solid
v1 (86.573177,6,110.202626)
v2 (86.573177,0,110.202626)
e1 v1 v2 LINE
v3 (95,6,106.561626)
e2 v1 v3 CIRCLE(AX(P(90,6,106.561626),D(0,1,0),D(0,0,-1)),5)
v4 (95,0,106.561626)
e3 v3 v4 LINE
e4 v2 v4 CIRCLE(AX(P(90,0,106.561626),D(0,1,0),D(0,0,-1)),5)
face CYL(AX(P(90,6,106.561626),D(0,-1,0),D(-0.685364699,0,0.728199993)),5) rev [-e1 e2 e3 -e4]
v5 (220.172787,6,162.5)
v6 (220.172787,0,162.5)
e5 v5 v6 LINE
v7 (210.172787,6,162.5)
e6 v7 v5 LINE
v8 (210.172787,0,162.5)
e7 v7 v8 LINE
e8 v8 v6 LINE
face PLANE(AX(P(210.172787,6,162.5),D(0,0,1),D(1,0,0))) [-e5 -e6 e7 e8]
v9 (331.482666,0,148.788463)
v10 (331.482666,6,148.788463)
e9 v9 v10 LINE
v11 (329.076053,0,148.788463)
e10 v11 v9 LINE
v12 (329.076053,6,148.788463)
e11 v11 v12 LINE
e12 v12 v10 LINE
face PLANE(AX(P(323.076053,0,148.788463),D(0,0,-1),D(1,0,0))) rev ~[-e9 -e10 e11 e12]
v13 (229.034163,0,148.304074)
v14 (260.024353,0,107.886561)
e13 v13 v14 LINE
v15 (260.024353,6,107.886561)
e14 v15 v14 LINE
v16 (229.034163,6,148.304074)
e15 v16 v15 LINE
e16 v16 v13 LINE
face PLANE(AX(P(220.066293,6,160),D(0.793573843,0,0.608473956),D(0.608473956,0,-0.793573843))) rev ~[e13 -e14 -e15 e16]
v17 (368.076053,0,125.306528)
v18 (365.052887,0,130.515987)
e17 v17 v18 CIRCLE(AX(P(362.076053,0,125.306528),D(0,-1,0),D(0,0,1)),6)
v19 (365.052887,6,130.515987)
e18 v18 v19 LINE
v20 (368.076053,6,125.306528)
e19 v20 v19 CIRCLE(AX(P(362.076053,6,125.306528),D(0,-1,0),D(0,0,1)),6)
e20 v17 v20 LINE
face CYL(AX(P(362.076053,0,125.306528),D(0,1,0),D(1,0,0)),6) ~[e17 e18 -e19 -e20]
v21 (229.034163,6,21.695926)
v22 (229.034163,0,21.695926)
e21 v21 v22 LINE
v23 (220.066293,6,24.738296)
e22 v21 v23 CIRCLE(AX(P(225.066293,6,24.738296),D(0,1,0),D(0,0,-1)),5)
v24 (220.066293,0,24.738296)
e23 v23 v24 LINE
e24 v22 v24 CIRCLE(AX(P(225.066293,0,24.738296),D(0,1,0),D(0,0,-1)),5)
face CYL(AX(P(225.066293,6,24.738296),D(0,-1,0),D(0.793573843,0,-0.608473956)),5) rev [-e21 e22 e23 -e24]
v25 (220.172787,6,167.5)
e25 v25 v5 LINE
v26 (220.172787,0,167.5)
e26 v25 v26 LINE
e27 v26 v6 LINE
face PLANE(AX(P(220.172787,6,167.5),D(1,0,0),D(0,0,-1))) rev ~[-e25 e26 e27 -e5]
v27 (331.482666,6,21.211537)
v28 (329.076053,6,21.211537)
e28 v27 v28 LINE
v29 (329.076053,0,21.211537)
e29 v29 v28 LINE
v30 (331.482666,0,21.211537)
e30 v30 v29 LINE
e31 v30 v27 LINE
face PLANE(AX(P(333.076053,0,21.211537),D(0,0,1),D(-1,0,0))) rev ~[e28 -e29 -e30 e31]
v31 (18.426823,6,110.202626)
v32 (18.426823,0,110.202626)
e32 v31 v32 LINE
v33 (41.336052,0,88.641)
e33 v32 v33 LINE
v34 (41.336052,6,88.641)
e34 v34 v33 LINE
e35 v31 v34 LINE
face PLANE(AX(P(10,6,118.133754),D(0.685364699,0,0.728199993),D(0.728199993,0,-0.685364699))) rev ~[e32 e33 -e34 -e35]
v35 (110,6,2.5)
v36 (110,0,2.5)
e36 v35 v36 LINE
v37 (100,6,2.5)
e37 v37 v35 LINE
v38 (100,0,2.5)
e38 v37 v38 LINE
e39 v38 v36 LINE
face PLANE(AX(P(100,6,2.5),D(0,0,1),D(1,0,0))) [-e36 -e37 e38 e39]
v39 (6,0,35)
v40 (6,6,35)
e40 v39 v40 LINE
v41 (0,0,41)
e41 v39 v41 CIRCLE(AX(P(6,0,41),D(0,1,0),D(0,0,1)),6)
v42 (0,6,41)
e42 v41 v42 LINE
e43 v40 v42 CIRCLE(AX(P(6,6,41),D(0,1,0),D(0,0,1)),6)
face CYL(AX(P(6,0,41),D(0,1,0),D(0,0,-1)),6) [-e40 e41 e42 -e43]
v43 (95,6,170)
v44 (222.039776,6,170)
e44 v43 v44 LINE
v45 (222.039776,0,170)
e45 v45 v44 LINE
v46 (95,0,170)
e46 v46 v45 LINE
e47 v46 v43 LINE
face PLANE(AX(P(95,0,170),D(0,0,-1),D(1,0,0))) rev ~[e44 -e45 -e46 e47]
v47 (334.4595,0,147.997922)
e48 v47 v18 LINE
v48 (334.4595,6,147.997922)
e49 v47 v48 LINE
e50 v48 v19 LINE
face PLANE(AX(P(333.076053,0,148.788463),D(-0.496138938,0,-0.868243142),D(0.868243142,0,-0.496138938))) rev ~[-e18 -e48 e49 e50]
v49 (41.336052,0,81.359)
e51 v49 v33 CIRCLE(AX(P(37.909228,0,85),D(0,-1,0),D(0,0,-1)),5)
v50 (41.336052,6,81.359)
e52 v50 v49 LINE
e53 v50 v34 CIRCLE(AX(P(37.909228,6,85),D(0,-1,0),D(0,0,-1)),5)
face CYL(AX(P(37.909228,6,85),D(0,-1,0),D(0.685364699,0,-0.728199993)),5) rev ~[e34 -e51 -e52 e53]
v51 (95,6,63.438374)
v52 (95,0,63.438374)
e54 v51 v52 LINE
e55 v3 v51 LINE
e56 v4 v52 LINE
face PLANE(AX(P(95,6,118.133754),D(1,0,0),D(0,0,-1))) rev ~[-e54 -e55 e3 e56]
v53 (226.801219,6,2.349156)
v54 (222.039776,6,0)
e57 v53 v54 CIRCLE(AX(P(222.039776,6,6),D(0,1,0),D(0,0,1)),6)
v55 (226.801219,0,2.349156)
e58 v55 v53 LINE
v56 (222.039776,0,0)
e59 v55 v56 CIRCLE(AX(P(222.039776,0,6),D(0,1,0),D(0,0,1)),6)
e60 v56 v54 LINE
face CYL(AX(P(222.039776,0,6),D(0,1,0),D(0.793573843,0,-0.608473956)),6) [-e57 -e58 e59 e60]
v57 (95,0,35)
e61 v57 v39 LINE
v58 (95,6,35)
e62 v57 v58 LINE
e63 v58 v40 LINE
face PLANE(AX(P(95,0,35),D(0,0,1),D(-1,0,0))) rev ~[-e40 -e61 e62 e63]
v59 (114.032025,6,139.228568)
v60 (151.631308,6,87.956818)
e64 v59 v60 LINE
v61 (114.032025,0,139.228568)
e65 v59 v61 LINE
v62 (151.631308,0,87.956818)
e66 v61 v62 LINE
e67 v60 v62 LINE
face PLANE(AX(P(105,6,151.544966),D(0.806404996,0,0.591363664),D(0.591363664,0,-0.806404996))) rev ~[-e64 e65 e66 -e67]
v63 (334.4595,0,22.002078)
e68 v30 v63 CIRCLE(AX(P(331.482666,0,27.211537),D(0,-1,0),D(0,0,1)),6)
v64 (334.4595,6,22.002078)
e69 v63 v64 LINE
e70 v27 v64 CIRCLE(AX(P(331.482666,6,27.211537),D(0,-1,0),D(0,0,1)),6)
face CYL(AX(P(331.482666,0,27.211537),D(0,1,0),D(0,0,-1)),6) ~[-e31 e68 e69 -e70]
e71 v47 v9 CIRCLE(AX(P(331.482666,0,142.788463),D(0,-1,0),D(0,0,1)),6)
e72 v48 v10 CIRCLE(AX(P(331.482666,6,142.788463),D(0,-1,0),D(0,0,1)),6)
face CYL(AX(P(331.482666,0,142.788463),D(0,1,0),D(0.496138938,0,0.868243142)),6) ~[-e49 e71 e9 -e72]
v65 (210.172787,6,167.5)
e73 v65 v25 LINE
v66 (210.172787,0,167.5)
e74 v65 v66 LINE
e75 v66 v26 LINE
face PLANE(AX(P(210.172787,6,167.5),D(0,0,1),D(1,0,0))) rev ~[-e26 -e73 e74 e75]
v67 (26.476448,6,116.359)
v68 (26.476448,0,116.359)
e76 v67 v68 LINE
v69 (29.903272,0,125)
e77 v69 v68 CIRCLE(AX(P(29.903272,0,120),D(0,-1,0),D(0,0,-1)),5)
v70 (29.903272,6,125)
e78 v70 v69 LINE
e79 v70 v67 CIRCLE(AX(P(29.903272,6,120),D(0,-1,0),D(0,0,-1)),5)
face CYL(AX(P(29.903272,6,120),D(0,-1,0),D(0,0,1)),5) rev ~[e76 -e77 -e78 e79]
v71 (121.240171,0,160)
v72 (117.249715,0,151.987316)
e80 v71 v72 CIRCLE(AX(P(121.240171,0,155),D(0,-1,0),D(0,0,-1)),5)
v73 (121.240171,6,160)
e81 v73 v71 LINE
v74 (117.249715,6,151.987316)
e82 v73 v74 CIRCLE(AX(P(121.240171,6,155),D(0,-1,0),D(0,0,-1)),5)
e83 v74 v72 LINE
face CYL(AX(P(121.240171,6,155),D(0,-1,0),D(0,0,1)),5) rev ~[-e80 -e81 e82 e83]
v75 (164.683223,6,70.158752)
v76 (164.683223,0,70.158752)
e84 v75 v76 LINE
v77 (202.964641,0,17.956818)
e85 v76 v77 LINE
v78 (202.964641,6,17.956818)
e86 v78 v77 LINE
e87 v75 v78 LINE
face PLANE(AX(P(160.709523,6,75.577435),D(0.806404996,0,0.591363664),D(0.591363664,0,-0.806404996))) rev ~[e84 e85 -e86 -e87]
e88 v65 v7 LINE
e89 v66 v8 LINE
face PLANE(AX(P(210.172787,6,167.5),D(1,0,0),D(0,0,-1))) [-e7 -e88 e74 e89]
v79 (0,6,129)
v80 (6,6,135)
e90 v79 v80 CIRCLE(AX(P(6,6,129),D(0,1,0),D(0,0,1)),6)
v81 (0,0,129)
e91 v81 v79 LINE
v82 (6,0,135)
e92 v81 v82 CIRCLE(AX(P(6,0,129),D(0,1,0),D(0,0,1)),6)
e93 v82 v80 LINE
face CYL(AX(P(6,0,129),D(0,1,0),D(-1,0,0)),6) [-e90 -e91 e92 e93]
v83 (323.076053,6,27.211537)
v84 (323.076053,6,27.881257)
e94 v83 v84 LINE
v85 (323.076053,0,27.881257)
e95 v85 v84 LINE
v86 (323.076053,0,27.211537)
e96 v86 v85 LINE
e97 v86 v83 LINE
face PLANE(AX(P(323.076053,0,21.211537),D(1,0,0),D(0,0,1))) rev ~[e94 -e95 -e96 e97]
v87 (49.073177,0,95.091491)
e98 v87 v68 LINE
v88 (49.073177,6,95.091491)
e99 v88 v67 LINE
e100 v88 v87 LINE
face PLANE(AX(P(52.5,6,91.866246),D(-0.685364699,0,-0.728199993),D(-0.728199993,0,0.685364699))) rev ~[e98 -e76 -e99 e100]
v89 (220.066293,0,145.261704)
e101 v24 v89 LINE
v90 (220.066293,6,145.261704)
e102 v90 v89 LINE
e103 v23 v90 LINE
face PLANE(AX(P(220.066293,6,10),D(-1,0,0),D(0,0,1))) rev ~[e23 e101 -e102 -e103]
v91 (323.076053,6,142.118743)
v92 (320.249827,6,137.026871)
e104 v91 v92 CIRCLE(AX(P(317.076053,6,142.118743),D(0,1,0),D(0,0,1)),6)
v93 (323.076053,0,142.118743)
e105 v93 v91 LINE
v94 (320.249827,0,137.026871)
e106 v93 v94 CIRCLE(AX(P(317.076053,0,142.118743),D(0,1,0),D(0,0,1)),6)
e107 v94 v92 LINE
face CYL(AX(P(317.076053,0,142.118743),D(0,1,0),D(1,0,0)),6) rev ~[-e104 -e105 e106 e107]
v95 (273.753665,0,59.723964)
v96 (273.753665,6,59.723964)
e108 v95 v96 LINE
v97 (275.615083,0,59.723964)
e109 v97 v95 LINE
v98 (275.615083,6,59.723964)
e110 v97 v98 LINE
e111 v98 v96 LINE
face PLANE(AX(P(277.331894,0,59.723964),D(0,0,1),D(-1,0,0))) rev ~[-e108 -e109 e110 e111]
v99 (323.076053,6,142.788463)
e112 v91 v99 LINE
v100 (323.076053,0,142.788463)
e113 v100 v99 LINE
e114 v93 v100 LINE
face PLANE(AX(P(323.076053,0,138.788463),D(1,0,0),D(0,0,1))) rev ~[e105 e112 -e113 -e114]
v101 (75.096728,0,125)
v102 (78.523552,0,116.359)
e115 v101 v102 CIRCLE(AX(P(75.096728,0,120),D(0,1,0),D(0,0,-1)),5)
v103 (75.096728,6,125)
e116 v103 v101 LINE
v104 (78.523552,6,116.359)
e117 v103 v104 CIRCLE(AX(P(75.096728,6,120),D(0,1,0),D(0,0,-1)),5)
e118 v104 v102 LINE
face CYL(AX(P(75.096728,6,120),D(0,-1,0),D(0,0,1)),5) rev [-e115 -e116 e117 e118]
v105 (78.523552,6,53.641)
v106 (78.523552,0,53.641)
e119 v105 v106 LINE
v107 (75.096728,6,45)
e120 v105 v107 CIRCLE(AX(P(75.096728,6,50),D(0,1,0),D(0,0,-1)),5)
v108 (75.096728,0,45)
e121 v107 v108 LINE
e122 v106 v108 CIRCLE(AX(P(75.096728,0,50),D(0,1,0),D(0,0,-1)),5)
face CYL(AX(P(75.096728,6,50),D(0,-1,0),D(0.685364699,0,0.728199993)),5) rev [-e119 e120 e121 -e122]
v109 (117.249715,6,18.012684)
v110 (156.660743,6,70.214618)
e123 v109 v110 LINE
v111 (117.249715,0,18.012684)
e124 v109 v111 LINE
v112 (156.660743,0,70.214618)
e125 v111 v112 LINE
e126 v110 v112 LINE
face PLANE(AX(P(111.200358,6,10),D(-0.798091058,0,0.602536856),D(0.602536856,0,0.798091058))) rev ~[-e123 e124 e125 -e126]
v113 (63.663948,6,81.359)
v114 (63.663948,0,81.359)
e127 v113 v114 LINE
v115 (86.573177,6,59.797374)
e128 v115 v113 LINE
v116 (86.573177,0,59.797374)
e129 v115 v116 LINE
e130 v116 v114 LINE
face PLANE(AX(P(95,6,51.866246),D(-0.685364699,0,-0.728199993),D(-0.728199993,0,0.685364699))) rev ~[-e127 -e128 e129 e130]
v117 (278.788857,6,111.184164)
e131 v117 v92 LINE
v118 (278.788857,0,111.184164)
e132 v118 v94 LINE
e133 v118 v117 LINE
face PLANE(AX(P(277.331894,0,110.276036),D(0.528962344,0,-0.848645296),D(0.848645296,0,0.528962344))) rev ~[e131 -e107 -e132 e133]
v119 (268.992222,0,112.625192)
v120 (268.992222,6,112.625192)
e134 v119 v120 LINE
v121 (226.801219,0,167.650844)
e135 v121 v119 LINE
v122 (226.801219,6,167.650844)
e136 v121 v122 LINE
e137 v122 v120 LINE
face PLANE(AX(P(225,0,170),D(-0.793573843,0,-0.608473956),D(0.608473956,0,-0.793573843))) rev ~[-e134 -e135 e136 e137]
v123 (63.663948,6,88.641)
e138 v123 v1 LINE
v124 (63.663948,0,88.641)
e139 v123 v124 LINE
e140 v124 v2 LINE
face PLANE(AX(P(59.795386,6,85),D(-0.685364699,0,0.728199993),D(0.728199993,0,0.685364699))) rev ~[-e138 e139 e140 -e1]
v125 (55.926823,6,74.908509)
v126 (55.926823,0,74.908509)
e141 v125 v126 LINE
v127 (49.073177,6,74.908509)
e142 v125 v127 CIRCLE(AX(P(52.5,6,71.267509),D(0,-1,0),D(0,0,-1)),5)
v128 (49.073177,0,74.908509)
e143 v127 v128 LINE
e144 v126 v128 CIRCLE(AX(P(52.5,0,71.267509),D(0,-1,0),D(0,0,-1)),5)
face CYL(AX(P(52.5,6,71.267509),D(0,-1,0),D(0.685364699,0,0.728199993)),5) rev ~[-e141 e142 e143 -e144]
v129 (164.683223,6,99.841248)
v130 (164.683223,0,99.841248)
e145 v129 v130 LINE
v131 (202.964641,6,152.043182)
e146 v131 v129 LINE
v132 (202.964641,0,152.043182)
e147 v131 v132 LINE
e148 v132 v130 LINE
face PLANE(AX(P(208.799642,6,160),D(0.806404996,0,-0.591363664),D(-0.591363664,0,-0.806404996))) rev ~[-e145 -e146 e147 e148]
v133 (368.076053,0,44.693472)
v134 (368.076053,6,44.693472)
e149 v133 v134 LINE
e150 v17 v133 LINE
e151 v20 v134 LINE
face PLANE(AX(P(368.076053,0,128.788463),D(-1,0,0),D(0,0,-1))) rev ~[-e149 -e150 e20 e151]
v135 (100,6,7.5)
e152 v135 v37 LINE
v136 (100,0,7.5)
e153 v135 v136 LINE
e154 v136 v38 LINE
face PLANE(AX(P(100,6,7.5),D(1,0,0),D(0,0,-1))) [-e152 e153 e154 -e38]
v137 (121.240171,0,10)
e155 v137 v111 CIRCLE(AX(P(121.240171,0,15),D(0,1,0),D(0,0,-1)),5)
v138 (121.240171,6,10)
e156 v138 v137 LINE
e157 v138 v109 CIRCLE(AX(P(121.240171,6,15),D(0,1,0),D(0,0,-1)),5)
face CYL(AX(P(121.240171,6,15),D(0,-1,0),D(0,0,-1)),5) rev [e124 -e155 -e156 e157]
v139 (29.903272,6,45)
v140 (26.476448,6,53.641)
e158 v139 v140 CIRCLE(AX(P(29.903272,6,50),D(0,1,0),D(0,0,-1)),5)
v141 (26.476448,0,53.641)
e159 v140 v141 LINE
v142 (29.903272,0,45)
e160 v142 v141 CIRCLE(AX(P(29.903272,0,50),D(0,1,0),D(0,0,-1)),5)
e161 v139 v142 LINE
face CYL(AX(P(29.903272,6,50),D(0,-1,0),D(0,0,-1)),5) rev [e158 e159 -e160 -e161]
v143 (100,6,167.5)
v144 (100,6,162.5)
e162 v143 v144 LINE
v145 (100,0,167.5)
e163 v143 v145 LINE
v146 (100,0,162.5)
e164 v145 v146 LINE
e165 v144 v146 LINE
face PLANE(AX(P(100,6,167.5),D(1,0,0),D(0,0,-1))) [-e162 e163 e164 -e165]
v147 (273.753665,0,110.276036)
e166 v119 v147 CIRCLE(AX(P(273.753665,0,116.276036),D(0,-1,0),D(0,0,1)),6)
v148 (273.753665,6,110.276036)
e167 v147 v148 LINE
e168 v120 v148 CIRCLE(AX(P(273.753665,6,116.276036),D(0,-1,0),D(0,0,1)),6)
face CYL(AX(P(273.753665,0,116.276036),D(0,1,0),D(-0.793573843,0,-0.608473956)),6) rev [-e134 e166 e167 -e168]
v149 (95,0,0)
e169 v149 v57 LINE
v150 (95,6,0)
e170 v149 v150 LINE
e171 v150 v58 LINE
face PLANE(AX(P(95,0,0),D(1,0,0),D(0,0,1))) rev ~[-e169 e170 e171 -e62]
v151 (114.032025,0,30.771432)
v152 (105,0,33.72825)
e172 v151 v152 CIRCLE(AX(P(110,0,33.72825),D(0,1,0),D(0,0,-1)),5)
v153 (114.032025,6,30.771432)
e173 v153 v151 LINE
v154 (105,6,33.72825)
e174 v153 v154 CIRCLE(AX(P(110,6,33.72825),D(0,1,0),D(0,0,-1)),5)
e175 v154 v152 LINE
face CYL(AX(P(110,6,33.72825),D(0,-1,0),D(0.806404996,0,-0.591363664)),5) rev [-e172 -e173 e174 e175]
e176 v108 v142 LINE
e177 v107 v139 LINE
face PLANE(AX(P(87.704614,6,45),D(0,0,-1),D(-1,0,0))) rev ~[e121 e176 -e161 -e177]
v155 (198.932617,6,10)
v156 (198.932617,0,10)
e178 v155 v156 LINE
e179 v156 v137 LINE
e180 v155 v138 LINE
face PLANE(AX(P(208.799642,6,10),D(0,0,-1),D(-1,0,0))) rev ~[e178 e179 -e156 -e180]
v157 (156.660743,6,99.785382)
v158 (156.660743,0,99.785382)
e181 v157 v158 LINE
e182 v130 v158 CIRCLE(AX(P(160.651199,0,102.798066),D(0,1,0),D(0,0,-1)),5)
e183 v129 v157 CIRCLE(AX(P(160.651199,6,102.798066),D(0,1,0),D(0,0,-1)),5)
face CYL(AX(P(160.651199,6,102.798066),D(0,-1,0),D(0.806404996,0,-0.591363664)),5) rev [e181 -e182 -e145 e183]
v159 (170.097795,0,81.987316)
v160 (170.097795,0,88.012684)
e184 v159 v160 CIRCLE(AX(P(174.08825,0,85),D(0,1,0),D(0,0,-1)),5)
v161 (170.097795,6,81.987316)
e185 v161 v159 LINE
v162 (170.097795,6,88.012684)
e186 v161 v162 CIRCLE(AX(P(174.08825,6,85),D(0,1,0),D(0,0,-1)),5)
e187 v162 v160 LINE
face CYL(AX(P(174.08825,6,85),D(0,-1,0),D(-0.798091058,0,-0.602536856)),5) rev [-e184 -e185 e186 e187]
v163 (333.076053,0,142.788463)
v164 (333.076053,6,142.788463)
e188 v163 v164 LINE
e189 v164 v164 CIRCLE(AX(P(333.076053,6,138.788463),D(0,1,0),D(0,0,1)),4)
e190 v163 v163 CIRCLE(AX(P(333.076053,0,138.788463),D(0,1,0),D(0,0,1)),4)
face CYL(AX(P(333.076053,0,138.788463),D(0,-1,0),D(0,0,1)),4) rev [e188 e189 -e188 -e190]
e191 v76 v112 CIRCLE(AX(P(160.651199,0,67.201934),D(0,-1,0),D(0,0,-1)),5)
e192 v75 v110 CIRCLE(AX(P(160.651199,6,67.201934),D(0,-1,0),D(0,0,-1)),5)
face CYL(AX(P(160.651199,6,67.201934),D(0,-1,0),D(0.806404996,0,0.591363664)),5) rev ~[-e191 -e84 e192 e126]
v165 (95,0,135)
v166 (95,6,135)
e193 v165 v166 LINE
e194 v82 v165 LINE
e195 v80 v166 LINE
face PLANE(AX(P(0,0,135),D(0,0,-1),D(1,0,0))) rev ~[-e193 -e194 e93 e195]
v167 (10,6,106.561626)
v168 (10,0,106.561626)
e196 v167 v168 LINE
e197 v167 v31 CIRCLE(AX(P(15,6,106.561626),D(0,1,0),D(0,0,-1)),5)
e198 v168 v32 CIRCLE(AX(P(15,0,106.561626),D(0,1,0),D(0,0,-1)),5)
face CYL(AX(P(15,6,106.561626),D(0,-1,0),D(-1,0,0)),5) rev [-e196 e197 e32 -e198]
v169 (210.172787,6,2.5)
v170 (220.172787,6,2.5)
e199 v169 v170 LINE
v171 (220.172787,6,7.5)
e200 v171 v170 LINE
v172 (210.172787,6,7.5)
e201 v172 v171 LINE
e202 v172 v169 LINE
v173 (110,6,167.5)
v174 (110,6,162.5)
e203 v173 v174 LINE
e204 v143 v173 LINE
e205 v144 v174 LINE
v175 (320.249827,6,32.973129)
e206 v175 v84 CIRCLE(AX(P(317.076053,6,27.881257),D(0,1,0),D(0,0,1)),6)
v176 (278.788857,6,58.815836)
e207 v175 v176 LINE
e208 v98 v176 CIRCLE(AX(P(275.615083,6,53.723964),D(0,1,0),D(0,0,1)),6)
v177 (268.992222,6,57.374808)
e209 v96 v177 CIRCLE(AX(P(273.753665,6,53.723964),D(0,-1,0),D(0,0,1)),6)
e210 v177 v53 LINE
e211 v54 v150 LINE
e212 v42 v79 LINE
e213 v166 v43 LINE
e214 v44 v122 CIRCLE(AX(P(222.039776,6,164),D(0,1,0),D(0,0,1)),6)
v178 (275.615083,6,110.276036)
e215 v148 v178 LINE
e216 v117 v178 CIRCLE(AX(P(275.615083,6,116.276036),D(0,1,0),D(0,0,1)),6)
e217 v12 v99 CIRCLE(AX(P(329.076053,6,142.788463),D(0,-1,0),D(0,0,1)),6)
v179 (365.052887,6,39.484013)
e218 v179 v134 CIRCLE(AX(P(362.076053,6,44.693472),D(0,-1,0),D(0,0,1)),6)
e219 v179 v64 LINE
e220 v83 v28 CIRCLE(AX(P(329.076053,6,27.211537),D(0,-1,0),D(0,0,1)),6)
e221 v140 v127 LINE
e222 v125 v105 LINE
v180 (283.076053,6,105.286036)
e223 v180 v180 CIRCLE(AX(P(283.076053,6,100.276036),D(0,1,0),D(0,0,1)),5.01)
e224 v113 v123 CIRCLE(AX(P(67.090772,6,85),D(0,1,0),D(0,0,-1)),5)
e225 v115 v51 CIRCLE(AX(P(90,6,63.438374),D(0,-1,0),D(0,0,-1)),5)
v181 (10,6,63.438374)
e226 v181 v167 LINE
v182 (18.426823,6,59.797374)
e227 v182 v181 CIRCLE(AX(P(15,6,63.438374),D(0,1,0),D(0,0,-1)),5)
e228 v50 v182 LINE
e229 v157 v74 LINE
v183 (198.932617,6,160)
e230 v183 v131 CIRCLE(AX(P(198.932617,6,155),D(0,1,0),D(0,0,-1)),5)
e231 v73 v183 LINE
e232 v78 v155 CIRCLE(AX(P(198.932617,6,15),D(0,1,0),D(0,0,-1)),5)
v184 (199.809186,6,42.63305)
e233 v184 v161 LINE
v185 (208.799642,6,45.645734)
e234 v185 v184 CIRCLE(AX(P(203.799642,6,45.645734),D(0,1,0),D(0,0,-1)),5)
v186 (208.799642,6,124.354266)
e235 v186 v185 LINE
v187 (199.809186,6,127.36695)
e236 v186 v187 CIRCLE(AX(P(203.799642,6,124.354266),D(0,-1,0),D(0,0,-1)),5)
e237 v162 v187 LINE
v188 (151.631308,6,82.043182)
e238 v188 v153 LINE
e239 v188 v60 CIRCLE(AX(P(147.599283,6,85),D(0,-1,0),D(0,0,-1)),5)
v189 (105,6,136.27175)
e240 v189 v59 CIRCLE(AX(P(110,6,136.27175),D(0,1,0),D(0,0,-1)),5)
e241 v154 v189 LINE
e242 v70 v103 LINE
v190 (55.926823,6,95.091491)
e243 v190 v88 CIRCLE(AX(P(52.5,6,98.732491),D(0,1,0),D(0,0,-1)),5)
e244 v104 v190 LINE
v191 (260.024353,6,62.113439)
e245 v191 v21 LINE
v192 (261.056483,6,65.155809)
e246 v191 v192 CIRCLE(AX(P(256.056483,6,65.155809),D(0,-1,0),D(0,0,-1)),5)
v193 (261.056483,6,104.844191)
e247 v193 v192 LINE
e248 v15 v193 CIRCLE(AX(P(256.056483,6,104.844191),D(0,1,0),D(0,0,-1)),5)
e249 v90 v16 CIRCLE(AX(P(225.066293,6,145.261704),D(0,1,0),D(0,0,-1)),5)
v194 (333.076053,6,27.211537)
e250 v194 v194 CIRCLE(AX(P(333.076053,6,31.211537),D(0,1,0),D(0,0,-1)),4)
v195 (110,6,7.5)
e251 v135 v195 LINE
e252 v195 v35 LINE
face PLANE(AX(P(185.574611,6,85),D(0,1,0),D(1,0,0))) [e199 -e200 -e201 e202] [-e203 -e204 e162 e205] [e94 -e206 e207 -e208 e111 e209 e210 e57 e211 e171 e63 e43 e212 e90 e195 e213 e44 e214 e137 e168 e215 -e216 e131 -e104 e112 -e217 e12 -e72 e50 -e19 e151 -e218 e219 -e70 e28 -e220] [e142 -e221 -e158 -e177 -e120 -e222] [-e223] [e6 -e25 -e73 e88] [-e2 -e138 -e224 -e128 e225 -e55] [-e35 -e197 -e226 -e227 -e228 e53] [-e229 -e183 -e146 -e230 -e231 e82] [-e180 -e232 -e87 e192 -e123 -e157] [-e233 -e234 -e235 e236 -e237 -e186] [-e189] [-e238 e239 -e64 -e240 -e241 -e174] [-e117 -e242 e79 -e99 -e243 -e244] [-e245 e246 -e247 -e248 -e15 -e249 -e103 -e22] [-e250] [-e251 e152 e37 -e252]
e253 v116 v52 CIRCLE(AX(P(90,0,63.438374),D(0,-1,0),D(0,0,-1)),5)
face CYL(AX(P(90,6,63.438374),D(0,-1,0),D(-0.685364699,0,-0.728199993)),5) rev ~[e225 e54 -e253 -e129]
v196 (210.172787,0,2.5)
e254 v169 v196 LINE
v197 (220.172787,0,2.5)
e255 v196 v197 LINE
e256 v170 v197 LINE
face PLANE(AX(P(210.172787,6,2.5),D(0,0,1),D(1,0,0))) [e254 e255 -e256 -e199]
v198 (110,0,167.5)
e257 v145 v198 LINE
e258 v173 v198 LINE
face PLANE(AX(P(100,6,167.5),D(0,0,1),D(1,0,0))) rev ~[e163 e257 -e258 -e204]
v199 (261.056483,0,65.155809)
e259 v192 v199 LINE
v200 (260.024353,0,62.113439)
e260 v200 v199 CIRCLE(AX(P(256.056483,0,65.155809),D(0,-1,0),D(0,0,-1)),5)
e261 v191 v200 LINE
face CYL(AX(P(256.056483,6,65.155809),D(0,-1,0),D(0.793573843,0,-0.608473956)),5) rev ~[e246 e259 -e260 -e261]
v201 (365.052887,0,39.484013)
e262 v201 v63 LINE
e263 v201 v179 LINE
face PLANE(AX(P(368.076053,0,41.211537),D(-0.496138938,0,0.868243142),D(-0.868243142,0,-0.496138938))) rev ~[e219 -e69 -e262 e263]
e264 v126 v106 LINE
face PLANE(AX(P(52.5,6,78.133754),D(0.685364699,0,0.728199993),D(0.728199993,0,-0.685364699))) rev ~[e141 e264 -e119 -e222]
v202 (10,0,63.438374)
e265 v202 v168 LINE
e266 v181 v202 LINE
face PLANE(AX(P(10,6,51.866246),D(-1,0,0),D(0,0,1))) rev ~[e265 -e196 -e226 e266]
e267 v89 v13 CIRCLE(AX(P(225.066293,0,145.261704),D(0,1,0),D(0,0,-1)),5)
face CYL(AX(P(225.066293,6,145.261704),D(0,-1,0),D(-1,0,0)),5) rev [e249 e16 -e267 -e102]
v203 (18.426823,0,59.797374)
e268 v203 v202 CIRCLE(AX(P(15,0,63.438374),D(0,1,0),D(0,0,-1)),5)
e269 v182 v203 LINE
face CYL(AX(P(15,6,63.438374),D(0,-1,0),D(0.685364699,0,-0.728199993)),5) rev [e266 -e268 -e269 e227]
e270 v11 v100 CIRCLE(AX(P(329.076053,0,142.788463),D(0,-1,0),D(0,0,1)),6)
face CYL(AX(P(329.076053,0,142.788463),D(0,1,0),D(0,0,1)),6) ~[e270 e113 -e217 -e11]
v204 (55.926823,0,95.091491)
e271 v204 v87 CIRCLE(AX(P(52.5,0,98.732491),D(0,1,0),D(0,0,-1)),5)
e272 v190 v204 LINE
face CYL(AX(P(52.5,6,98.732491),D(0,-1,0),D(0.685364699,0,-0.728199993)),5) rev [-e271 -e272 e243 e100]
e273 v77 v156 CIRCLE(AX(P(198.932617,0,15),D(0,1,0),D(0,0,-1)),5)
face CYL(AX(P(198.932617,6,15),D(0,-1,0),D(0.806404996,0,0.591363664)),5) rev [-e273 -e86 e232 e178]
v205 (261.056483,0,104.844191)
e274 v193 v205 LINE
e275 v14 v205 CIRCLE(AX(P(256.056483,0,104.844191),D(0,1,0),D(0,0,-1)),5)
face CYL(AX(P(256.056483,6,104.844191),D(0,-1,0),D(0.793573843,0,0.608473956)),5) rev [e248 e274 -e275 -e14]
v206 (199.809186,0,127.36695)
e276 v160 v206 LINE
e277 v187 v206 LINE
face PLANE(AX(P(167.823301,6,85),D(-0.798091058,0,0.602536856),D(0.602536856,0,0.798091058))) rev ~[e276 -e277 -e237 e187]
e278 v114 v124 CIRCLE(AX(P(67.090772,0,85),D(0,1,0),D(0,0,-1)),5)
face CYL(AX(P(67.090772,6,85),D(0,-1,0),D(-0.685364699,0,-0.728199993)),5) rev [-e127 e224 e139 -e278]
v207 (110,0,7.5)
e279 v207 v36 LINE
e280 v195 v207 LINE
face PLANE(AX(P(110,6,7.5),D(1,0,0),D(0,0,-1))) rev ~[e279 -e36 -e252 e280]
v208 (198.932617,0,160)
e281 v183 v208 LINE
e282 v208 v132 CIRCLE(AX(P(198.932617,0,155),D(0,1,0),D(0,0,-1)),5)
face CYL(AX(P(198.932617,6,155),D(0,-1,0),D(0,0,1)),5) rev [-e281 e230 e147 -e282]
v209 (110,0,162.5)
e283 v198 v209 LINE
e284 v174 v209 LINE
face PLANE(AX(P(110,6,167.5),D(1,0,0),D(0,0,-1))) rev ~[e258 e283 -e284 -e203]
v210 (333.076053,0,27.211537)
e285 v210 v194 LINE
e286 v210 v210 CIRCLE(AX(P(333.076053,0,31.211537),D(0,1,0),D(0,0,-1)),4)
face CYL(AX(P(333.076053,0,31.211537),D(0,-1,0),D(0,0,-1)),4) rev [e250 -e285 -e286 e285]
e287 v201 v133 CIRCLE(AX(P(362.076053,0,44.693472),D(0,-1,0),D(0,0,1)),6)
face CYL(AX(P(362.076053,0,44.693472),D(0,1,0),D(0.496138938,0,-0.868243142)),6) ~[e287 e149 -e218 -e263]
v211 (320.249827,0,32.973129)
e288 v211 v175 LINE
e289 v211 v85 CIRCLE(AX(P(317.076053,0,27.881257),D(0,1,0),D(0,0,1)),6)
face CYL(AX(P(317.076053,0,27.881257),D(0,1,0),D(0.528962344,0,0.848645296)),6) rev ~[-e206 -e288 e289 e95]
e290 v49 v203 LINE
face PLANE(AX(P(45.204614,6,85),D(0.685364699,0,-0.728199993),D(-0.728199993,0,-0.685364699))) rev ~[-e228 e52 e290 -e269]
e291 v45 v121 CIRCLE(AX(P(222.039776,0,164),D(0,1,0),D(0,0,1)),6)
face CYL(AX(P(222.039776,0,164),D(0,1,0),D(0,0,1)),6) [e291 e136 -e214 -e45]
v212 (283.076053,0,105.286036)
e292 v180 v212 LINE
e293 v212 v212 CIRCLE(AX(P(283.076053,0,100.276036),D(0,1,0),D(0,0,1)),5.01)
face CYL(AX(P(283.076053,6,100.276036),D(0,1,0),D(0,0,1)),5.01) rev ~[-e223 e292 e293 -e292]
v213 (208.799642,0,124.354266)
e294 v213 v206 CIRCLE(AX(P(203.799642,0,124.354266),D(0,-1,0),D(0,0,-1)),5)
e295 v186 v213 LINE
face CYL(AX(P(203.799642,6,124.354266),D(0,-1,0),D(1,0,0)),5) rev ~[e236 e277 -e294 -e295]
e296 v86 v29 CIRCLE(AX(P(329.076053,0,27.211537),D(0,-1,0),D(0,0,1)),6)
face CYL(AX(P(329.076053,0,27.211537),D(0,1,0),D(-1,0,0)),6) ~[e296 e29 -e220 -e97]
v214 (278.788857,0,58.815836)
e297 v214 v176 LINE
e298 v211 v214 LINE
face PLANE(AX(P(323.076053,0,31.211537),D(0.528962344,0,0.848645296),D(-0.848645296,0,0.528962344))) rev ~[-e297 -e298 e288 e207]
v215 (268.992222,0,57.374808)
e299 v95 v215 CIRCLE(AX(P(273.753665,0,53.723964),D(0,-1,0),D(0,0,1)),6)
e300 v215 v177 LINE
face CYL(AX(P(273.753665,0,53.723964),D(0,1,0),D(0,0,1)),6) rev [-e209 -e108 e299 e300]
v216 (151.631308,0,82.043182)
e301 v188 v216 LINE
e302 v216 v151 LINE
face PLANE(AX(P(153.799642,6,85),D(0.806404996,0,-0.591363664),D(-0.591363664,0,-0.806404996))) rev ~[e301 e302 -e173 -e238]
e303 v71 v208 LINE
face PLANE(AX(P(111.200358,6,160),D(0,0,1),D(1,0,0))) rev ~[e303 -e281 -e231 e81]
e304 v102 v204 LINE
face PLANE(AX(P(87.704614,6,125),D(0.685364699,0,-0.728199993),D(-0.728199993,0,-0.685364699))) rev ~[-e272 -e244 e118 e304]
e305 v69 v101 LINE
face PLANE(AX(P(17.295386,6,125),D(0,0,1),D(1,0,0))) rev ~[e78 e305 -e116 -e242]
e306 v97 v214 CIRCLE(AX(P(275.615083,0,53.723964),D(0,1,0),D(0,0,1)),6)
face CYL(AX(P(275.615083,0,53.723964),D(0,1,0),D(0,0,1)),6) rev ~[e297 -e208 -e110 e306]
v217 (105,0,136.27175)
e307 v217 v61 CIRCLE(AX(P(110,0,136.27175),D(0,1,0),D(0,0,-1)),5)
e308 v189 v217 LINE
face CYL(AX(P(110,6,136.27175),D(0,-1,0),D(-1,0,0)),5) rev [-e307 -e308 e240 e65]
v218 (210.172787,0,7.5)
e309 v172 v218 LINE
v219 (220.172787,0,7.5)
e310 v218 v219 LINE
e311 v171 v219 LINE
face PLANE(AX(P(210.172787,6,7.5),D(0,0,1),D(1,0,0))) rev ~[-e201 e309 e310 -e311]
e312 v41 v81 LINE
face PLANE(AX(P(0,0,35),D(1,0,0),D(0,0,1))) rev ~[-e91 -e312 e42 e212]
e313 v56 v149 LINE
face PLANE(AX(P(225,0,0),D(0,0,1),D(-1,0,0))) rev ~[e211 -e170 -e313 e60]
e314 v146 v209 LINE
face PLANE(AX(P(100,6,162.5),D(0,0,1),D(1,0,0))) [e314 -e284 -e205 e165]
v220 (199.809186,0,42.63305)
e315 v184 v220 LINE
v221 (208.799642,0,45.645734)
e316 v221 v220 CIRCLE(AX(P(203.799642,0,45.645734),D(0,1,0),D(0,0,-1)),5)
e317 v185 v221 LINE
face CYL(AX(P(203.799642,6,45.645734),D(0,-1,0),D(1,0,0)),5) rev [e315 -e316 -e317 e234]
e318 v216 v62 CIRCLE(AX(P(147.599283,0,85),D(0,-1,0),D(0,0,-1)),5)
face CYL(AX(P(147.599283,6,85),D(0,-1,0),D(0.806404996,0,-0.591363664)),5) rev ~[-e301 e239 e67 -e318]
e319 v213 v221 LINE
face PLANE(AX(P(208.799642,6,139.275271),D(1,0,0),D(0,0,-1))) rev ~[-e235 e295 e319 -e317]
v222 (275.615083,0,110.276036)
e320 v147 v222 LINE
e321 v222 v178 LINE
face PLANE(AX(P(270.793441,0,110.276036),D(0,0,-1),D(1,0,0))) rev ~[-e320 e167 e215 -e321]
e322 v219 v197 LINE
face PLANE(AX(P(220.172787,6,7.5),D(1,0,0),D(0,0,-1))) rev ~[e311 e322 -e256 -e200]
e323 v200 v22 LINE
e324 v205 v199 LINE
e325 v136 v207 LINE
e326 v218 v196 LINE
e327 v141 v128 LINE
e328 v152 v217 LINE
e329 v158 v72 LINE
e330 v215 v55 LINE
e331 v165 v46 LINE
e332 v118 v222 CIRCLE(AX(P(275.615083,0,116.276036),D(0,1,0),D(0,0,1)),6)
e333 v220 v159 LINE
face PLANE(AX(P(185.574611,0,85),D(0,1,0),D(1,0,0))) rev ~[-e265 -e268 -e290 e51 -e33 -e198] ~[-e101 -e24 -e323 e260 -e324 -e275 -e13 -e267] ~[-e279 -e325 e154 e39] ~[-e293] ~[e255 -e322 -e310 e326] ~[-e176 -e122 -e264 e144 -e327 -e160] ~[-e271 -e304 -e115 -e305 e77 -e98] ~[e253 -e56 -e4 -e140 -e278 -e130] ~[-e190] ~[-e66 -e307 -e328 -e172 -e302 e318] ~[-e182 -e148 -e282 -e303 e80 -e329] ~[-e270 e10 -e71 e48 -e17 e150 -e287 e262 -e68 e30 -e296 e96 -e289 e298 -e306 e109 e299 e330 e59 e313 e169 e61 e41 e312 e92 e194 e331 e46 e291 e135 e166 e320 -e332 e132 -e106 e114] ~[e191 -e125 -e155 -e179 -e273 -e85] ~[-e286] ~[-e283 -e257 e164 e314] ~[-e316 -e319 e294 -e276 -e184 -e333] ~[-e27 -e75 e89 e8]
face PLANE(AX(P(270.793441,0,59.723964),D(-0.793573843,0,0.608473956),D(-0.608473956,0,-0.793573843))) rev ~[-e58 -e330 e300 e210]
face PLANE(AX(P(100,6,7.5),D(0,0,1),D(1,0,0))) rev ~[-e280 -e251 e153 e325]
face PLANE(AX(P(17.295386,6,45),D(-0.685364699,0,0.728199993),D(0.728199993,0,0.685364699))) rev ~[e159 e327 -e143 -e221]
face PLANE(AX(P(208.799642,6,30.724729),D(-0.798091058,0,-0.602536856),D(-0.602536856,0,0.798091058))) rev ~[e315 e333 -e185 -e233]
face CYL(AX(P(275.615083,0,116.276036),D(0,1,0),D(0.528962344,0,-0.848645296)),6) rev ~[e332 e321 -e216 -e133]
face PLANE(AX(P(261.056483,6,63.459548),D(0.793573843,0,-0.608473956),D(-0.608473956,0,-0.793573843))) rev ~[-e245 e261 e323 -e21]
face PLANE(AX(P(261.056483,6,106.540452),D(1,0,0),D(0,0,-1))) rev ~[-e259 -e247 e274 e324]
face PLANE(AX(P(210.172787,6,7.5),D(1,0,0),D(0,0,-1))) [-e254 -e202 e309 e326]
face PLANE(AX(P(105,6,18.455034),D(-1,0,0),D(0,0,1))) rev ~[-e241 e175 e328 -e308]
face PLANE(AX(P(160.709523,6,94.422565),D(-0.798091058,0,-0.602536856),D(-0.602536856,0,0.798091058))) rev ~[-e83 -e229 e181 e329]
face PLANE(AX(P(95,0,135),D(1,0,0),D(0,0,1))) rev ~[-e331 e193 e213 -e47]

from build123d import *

# Parameters (mm, degrees)
SKETCH1_R           = 4
BOSS_EXTRUDE1_DEPTH = 6
FILLET1_R           = 6
CUT_EXTRUDE1_DEPTH  = 6
FILLET3_R           = 5
SKETCH3_R           = 5.01
CUT_EXTRUDE2_DEPTH  = 10
SKETCH4_W           = 10
SKETCH4_H           = 5
CUT_EXTRUDE3_DEPTH  = 10


with BuildPart() as part:
    # Sketch1 → Boss-Extrude1 (new body)
    with BuildSketch(Plane(origin=(0, 0, 0), x_dir=(1, 0, 0), z_dir=(0, 1, 0))):
        Polygon((277.331893801, -59.723964411), (274.249458289, -59.723964411), (270.793440906, -59.723964411), (225, 0), (95, 0), (95, -35), (0, -35), (0, -135), (95, -135), (95, -170), (225, -170), (270.793440906, -110.276035589), (274.249458289, -110.276035589), (277.331893801, -110.276035589), (323.076052888, -138.788463278), (323.076052888, -148.788463278), (333.076052888, -148.788463278), (368.076052888, -128.788463278), (368.076052888, -41.211536722), (333.076052888, -21.211536722), (323.076052888, -21.211536722), (323.076052888, -31.211536722), align=None)
        with Locations(Location((333.076052888, -138.788463278, 0), (0, 0, 270))):
            Circle(SKETCH1_R, mode=Mode.SUBTRACT)
        with Locations(Location((333.076052888, -31.211536722, 0), (0, 0, 90))):
            Circle(SKETCH1_R, mode=Mode.SUBTRACT)
    extrude(amount=BOSS_EXTRUDE1_DEPTH)

    # Fillet1
    fillet1_edges = [part.edges().sort_by_distance(p)[0] for p in [
        (323.076052888, 3, 31.211536722),
        (323.076052888, 3, 21.211536722),
        (333.076052888, 3, 21.211536722),
        (368.076052888, 3, 41.211536722),
        (368.076052888, 3, 128.788463278),
        (333.076052888, 3, 148.788463278),
        (323.076052888, 3, 148.788463278),
        (323.076052888, 3, 138.788463278),
        (277.331893801, 3, 110.276035589),
        (270.793440906, 3, 110.276035589),
        (225, 3, 170),
        (0, 3, 135),
        (0, 3, 35),
        (225, 3, 0),
        (270.793440906, 3, 59.723964411),
        (277.331893801, 3, 59.723964411),
    ]]
    fillet(fillet1_edges, radius=FILLET1_R)

    # Sketch2 → Cut-Extrude1 (cut)
    with BuildSketch(Plane(origin=(0, 6, 0), x_dir=(1, 0, 0), z_dir=(0, 1, 0))):
        Polygon((261.056483321, -63.459547708), (220.066293487, -10), (220.066293487, -160), (261.056483321, -106.540452292), align=None)
        Polygon((160.709522788, -75.577434726), (208.799641587, -10), (111.200358413, -10), align=None)
        Polygon((111.200358413, -160), (208.799641587, -160), (160.709522788, -94.422565274), align=None)
        Polygon((153.799641587, -85), (105, -18.455034199), (105, -151.544965801), align=None)
        Polygon((52.5, -78.133754394), (87.704614044, -45), (17.295385956, -45), align=None)
        Polygon((17.295385956, -125), (87.704614044, -125), (52.5, -91.866245606), align=None)
        Polygon((45.204614044, -85), (10, -51.866245606), (10, -118.133754394), align=None)
        Polygon((95, -51.866245606), (59.795385956, -85), (95, -118.133754394), align=None)
        Polygon((208.799641587, -139.275270598), (208.799641587, -30.724729402), (167.823301101, -85), align=None)
    extrude(amount=-CUT_EXTRUDE1_DEPTH, mode=Mode.SUBTRACT)

    # Fillet3
    fillet3_edges = [part.edges().sort_by_distance(p)[0] for p in [
        (59.795385956, 3, 85),
        (95, 3, 51.866245606),
        (95, 3, 118.133754394),
        (52.5, 3, 78.133754394),
        (17.295385956, 3, 45),
        (87.704614044, 3, 45),
        (105, 3, 18.455034199),
        (153.799641587, 3, 85),
        (105, 3, 151.544965801),
        (111.200358413, 3, 160),
        (160.709522788, 3, 94.422565274),
        (208.799641587, 3, 160),
        (261.056483321, 3, 63.459547708),
        (261.056483321, 3, 106.540452292),
        (220.066293487, 3, 160),
        (220.066293487, 3, 10),
        (208.799641587, 3, 10),
        (160.709522788, 3, 75.577434726),
        (111.200358413, 3, 10),
        (17.295385956, 3, 125),
        (52.5, 3, 91.866245606),
        (87.704614044, 3, 125),
        (10, 3, 51.866245606),
        (45.204614044, 3, 85),
        (10, 3, 118.133754394),
        (167.823301101, 3, 85),
        (208.799641587, 3, 30.724729402),
        (208.799641587, 3, 139.275270598),
    ]]
    fillet(fillet3_edges, radius=FILLET3_R)

    # Sketch3 → Cut-Extrude2 (cut)
    with BuildSketch(Plane(origin=(0, 6, 0), x_dir=(1, 0, 0), z_dir=(0, 1, 0))):
        with Locations(Location((283.076052888, -100.276035589, 0), (0, 0, 270))):
            Circle(SKETCH3_R)
    extrude(amount=-CUT_EXTRUDE2_DEPTH, mode=Mode.SUBTRACT)

    # Sketch4 → Cut-Extrude3 (cut)
    with BuildSketch(Plane(origin=(0, 6, 0), x_dir=(1, 0, 0), z_dir=(0, 1, 0))):
        with Locations((105, -5)):
            Rectangle(SKETCH4_W, SKETCH4_H)
        with Locations((215.172787049, -5)):
            Rectangle(SKETCH4_W, SKETCH4_H)
        with Locations((215.172787049, -165)):
            Rectangle(SKETCH4_W, SKETCH4_H)
        with Locations((105, -165)):
            Rectangle(SKETCH4_W, SKETCH4_H)
    extrude(amount=-CUT_EXTRUDE3_DEPTH, mode=Mode.SUBTRACT)


solid = part.part
